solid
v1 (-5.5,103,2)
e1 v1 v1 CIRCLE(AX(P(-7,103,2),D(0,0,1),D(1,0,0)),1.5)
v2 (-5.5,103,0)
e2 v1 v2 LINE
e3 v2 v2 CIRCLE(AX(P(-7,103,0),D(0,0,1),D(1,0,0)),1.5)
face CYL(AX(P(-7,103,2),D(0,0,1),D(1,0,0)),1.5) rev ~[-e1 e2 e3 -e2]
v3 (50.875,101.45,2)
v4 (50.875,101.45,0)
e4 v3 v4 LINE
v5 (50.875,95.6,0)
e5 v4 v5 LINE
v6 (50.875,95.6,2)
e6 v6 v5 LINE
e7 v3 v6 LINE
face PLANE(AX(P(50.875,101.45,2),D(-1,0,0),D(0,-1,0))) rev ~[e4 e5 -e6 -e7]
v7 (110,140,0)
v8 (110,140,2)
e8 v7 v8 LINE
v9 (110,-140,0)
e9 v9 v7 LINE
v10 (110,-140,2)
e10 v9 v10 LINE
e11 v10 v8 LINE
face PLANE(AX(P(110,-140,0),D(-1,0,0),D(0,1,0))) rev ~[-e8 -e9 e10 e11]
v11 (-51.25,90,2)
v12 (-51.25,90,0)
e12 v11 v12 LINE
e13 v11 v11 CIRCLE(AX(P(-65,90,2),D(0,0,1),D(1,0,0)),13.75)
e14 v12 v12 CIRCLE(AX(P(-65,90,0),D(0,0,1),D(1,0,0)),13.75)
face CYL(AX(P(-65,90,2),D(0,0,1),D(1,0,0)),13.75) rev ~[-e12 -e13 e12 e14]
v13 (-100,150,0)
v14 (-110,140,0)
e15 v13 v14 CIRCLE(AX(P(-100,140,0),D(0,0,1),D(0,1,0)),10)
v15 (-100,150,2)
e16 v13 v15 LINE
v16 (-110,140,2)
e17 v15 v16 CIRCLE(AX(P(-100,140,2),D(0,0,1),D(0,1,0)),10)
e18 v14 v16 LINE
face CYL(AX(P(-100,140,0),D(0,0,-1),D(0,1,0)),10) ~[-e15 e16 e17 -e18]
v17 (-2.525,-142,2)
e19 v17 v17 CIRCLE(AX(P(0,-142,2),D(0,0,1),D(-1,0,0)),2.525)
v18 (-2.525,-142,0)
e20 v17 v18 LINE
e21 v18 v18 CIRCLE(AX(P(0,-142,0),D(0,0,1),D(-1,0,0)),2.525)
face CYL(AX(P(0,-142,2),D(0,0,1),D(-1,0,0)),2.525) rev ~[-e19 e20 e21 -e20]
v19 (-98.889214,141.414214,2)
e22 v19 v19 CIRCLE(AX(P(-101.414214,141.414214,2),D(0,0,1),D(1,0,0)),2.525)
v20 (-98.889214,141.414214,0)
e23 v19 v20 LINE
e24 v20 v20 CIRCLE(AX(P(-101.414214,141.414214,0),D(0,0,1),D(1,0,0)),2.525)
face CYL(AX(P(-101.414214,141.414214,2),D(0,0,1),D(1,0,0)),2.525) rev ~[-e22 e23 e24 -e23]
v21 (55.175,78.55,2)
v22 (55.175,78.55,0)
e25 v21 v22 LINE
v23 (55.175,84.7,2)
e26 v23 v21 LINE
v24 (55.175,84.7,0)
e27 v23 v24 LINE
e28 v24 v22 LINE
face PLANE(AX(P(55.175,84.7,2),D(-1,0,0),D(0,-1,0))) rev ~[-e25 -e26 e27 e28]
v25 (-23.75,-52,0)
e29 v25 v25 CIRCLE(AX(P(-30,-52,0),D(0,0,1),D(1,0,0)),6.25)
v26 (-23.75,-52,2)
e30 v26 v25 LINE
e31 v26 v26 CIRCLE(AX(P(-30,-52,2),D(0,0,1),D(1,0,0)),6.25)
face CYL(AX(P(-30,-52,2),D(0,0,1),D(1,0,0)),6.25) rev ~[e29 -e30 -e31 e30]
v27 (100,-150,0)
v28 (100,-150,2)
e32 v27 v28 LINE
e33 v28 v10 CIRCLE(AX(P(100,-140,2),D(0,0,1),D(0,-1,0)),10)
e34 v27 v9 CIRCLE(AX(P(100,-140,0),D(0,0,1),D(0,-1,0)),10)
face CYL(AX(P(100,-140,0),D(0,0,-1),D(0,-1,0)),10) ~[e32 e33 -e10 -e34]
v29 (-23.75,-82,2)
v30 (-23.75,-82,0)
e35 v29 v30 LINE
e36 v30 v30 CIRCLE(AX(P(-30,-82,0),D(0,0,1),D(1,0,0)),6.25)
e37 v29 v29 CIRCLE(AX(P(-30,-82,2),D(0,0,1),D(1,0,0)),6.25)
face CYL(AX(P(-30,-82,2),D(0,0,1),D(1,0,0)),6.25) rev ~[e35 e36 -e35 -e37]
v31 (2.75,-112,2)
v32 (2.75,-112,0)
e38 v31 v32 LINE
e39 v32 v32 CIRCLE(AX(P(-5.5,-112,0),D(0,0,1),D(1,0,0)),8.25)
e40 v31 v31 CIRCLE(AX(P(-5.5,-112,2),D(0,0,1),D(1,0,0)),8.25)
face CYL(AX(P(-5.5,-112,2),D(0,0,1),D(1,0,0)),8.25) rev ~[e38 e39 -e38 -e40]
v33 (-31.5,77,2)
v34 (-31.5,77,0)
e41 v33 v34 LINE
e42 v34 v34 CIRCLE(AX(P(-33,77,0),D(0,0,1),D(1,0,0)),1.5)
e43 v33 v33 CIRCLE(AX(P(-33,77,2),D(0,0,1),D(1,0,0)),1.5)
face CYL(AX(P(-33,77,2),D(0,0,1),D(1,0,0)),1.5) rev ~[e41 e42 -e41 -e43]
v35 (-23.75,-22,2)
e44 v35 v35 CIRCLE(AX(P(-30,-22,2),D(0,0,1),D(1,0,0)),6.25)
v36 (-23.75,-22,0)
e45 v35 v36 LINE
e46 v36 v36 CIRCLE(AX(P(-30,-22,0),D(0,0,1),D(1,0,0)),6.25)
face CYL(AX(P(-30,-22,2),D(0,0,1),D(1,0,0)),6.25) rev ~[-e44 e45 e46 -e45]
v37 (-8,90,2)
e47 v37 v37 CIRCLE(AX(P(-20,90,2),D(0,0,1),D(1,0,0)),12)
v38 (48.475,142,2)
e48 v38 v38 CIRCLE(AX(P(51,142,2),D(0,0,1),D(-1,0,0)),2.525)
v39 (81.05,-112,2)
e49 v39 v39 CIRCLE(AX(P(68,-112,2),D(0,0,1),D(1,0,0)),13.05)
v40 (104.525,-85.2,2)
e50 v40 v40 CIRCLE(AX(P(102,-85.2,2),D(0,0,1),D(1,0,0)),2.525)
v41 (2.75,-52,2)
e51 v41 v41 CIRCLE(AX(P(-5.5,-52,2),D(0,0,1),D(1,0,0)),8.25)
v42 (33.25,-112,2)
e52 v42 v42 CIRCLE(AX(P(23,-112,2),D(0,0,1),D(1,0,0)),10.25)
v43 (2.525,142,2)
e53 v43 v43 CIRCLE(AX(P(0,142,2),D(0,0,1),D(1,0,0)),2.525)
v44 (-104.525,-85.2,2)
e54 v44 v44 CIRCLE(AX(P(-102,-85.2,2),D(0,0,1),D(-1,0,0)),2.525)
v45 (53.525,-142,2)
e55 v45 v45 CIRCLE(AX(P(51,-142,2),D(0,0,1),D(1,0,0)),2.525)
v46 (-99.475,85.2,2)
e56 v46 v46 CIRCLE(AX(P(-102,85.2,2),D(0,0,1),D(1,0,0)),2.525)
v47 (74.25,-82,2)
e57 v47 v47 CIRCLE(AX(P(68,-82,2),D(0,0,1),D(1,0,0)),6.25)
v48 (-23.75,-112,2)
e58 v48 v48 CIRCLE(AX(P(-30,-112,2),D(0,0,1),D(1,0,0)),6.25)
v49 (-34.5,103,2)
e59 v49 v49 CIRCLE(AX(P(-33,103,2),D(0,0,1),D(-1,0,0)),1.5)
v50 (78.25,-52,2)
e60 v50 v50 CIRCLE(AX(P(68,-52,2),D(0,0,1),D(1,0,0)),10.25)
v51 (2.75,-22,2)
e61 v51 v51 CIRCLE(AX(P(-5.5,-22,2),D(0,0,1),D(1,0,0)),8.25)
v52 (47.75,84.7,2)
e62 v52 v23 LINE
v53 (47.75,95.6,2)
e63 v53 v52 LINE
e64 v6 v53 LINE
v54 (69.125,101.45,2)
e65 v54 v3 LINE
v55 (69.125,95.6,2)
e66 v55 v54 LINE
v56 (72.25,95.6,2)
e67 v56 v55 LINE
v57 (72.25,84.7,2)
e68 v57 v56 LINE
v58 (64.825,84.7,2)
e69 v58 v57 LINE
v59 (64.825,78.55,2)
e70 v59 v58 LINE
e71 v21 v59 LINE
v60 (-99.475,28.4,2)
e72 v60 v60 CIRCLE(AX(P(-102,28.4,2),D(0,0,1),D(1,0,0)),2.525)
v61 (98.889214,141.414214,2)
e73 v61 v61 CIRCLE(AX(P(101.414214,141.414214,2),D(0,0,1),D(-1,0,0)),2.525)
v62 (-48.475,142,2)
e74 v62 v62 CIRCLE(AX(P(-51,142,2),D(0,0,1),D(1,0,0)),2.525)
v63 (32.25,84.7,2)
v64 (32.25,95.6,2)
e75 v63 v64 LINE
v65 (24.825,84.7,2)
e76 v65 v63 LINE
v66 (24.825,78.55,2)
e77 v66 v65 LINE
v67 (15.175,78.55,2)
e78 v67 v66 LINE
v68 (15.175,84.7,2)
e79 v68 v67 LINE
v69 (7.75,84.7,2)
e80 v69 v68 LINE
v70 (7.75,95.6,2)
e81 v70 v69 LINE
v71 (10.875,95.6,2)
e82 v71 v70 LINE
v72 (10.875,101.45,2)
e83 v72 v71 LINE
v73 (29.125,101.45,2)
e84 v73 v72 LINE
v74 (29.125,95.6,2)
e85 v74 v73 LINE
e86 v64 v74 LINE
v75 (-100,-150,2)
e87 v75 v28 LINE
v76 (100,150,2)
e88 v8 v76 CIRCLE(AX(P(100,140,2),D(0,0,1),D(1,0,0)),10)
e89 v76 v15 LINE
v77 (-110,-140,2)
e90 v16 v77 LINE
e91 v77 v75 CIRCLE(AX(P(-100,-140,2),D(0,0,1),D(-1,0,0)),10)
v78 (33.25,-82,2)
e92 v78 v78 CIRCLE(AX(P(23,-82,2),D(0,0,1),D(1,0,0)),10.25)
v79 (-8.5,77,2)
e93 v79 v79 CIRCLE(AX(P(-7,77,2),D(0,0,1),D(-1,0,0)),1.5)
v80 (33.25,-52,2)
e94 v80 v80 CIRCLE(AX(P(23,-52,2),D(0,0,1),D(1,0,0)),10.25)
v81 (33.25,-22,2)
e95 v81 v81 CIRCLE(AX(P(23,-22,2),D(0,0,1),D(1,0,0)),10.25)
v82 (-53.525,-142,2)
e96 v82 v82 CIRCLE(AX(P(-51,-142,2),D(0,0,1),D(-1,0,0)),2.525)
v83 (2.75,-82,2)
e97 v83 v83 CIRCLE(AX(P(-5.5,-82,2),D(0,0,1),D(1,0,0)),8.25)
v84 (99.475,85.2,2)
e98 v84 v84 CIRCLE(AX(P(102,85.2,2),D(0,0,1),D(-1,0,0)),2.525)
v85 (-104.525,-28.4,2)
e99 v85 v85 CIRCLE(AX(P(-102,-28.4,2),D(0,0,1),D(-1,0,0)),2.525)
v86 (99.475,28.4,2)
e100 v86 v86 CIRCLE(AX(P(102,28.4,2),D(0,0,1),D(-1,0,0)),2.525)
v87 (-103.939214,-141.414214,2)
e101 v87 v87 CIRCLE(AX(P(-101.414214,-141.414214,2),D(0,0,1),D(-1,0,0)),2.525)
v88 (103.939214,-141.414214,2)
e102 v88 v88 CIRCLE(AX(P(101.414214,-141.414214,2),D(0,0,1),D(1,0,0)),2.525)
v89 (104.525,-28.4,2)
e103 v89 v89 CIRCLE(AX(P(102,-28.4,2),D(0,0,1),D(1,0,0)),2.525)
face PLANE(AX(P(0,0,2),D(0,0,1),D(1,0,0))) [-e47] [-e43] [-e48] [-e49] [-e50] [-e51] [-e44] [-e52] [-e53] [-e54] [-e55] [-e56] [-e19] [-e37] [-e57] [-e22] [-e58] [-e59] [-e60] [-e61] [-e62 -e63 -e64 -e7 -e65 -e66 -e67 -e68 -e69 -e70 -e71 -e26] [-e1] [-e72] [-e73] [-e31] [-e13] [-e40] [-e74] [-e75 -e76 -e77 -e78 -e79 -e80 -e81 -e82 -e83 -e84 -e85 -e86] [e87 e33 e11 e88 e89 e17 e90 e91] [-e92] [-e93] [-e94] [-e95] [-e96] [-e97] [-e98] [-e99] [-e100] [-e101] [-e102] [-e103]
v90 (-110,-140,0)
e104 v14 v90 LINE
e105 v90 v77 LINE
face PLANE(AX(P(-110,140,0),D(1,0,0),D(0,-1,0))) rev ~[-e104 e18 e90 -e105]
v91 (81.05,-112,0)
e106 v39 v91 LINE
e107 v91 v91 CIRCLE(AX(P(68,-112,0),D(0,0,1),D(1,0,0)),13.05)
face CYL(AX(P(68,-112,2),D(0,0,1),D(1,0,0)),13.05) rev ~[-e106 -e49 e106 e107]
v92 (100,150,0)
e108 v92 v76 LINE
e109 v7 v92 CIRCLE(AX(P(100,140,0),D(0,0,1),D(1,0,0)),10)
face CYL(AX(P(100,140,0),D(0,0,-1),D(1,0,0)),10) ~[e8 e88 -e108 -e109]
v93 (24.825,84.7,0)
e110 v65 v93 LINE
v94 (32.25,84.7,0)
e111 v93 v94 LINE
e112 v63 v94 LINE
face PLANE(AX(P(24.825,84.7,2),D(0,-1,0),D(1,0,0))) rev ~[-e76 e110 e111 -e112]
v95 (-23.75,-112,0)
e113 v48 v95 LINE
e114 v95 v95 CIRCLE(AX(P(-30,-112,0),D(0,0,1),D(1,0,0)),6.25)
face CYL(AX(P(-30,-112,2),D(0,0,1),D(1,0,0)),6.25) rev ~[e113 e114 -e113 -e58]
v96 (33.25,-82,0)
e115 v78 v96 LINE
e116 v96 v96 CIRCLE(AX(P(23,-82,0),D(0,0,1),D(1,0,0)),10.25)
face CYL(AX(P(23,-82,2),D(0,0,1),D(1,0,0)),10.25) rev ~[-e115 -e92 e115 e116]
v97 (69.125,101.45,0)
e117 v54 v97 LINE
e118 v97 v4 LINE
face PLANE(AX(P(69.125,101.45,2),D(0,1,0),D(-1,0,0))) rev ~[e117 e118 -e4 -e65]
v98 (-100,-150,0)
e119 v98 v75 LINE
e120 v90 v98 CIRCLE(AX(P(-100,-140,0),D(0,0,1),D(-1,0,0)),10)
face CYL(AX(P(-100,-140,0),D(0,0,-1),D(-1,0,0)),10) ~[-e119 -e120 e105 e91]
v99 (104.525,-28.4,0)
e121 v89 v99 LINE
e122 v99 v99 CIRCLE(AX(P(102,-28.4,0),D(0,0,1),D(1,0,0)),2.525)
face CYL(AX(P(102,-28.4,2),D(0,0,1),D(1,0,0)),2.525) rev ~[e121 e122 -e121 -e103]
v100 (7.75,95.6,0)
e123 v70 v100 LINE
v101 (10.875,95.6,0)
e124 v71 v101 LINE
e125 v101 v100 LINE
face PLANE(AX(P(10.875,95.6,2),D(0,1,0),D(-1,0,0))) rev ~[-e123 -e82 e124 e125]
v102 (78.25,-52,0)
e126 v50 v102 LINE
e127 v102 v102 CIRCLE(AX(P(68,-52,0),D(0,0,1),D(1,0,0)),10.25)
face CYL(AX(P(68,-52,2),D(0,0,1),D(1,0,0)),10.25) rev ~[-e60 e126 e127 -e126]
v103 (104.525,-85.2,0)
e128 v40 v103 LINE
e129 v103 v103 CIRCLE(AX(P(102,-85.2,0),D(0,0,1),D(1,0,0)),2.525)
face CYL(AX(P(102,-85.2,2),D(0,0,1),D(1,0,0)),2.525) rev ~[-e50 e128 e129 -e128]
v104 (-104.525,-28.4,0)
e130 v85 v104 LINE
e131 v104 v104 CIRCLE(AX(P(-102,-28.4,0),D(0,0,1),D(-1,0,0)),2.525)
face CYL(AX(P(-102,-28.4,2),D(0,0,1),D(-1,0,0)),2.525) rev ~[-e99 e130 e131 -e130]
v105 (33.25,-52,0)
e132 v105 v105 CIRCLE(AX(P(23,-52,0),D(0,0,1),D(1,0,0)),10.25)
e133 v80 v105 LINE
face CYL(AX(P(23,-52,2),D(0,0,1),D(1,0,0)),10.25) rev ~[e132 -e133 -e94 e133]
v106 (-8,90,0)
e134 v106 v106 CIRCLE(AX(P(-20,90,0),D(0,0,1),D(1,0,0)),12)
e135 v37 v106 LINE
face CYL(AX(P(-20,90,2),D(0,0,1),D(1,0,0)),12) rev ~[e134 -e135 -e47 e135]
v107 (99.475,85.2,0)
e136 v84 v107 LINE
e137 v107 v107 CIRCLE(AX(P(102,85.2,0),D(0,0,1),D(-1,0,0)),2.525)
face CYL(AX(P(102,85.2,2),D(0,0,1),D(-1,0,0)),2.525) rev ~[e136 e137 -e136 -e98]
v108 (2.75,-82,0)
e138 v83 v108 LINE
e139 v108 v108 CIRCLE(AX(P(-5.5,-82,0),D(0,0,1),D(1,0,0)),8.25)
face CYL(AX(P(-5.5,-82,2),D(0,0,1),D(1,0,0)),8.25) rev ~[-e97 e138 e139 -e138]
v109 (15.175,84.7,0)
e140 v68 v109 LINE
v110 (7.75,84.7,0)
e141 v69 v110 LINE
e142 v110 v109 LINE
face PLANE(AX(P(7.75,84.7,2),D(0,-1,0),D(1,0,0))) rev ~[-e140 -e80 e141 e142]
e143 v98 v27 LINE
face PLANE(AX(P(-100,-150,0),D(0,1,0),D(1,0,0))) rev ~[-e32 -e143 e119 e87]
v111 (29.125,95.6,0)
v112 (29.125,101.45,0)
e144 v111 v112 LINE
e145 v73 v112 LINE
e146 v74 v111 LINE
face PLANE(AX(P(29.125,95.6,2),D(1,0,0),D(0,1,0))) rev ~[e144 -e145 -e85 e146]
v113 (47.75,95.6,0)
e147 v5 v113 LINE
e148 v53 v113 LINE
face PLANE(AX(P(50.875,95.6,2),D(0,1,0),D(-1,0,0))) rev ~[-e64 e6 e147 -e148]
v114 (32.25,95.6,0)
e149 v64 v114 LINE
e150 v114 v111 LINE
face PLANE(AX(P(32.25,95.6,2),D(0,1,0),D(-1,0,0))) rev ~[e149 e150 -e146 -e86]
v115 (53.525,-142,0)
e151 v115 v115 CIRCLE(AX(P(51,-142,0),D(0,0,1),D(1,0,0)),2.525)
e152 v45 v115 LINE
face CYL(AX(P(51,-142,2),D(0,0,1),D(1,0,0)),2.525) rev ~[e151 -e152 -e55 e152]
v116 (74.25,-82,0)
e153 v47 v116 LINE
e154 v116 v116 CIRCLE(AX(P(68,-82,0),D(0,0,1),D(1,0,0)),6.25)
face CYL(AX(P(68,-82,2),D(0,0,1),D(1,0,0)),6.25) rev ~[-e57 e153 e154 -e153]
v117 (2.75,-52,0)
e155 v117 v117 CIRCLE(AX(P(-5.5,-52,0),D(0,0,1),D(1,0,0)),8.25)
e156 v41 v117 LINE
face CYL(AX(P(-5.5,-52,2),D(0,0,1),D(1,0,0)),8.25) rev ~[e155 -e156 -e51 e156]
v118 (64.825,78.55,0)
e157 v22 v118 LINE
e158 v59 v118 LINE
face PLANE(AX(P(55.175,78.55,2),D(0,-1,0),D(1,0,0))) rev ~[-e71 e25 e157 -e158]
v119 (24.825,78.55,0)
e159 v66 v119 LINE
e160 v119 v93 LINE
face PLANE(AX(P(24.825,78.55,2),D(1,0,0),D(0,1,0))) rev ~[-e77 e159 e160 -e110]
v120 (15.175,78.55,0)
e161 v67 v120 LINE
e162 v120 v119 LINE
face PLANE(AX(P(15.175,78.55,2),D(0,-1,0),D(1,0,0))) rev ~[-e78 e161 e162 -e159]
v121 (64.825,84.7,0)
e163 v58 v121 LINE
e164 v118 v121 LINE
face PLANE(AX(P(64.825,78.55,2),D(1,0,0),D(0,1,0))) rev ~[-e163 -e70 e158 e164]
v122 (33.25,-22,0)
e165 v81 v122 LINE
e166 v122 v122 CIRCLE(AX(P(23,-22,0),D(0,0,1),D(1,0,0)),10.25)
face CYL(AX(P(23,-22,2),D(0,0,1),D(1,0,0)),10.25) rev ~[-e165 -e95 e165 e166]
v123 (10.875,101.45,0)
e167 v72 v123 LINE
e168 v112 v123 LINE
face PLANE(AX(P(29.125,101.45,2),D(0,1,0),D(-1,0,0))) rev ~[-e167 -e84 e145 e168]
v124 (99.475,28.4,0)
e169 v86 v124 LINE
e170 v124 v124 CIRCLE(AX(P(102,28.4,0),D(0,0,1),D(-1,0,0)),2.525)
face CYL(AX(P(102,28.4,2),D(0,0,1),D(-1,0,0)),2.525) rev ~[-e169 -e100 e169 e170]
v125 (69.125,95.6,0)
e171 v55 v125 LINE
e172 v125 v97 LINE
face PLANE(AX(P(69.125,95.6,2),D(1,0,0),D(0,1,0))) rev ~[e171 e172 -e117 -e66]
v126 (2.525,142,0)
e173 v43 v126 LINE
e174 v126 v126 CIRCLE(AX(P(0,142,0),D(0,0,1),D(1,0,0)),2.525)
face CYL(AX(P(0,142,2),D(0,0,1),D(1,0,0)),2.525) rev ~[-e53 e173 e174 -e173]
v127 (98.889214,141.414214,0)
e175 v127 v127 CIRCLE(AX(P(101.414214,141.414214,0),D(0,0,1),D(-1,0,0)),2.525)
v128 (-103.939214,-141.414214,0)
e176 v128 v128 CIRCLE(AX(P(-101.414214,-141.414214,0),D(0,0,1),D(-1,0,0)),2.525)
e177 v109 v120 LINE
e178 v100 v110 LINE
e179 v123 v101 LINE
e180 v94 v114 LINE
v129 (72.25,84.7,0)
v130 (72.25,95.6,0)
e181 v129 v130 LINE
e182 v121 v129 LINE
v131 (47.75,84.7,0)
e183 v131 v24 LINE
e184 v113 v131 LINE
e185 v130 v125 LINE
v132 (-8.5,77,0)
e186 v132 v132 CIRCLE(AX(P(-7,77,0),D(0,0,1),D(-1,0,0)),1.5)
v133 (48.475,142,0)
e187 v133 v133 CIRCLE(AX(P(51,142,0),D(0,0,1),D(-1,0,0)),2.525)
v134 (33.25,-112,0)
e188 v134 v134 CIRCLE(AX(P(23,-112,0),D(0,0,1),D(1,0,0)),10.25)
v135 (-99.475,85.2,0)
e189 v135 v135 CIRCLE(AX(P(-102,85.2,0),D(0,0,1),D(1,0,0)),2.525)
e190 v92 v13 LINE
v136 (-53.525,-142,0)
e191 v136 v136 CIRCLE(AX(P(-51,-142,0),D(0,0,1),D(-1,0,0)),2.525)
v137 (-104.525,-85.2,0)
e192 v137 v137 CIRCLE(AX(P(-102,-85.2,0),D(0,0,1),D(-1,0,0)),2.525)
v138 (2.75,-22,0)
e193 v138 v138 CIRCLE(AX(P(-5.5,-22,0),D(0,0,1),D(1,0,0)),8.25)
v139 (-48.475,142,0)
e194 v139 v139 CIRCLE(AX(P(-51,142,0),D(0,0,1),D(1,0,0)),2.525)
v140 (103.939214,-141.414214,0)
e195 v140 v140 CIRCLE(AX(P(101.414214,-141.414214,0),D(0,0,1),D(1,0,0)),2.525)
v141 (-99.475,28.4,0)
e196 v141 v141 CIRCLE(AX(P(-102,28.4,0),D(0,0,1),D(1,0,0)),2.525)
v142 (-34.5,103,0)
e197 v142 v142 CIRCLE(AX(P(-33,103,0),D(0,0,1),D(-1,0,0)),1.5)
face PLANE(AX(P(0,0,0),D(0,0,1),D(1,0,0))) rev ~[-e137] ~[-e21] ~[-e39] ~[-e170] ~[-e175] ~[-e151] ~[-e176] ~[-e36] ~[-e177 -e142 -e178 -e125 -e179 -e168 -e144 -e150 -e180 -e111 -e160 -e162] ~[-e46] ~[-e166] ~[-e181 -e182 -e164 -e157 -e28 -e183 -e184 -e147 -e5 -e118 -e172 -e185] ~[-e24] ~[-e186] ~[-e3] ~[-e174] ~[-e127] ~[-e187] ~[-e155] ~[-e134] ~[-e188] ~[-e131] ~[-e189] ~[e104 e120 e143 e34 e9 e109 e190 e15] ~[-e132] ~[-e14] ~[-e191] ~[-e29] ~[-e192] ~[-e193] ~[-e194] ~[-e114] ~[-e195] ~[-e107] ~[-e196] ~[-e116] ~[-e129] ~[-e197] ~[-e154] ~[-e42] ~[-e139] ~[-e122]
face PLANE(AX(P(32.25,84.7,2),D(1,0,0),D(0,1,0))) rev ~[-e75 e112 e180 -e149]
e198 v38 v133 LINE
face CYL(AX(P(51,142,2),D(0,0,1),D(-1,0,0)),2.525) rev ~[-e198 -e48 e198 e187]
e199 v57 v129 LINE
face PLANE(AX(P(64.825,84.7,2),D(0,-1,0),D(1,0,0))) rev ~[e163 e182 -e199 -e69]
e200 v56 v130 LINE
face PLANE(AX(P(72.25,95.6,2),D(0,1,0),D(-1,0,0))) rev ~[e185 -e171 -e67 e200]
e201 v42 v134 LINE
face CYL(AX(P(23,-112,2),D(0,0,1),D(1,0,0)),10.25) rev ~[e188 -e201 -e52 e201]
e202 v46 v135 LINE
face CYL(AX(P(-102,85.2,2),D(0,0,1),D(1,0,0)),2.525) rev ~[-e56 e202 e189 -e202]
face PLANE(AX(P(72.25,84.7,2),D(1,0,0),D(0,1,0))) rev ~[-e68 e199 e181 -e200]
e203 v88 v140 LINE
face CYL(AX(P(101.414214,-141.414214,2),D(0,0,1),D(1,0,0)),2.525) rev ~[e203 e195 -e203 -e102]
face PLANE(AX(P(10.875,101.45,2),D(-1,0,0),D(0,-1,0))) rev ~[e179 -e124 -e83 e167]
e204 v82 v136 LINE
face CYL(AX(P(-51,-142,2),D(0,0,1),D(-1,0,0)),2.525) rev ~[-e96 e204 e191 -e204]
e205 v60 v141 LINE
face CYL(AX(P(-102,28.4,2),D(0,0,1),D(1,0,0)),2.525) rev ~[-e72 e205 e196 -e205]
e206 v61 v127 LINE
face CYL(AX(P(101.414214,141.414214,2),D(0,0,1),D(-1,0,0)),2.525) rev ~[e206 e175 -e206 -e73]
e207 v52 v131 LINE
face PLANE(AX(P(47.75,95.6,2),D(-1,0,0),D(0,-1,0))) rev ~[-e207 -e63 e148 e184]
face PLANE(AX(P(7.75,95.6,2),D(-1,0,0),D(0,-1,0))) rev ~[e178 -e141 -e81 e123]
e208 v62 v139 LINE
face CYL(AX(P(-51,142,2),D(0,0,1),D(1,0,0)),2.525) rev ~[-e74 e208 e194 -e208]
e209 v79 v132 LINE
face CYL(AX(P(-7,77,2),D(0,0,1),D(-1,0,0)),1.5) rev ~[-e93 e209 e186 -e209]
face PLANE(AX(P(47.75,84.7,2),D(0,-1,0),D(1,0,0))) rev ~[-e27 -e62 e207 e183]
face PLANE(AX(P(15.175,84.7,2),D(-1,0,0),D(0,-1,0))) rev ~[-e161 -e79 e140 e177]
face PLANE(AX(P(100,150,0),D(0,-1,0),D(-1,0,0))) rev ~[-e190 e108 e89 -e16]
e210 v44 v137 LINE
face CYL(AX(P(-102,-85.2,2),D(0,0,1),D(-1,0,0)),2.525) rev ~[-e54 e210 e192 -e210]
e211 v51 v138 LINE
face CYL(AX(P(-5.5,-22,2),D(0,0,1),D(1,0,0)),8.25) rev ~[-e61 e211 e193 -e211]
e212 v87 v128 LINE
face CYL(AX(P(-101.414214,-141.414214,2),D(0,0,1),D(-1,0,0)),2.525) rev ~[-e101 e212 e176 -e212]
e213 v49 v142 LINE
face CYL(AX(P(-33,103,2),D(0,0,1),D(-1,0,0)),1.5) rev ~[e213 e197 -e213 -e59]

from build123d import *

# Parameters (mm, degrees)
BOSS_EXTRUDE1_DEPTH = 2
SKETCH2_R           = 2.525
CUT_EXTRUDE1_DEPTH  = 187.021504133
SKETCH3_R           = 10.25
SKETCH3_R_2         = 8.25
SKETCH3_R_3         = 6.25
CUT_EXTRUDE2_DEPTH  = 187.021504133
CUT_EXTRUDE3_DEPTH  = 187.021504133
SKETCH6_R           = 12
SKETCH6_R_2         = 1.5
CUT_EXTRUDE4_DEPTH  = 187.021504133
CUT_EXTRUDE5_REACH  = 188.022
SKETCH7_R           = 13.75
CUT_EXTRUDE6_REACH  = 188.022
SKETCH8_R           = 13.05
SKETCH9_R           = 10.25
SKETCH9_R_2         = 6.25
CUT_EXTRUDE7_DEPTH  = 2


with BuildPart() as part:
    # Sketch1 → Boss-Extrude1 (new body)
    with BuildSketch(Plane.XY):
        with BuildLine():
            Line((-100, -150), (100, -150))
            ThreePointArc((100, -150), (107.071067812, -147.071067812), (110, -140))
            Line((110, -140), (110, 140))
            ThreePointArc((110, 140), (107.071067812, 147.071067812), (100, 150))
            Line((100, 150), (-100, 150))
            ThreePointArc((-100, 150), (-107.071067812, 147.071067812), (-110, 140))
            Line((-110, 140), (-110, -140))
            ThreePointArc((-110, -140), (-107.071067812, -147.071067812), (-100, -150))
        make_face()
    extrude(amount=BOSS_EXTRUDE1_DEPTH)

    # Sketch2 → Cut-Extrude1 (cut, through all)
    with BuildSketch(Plane.XY.offset(2)):
        with Locations((-101.414213562, 141.414213562)):
            Circle(SKETCH2_R)
        with Locations(Location((101.414213562, 141.414213562, 0), (0, 0, 180))):
            Circle(SKETCH2_R)
        with Locations((-51, 142)):
            Circle(SKETCH2_R)
        with Locations(Location((51, 142, 0), (0, 0, 180))):
            Circle(SKETCH2_R)
        with Locations((-102, 85.2)):
            Circle(SKETCH2_R)
        with Locations((-102, 28.4)):
            Circle(SKETCH2_R)
        with Locations(Location((102, 28.4, 0), (0, 0, 180))):
            Circle(SKETCH2_R)
        with Locations(Location((102, 85.2, 0), (0, 0, 180))):
            Circle(SKETCH2_R)
        with Locations((102, -28.4)):
            Circle(SKETCH2_R)
        with Locations((102, -85.2)):
            Circle(SKETCH2_R)
        with Locations((101.414213562, -141.414213562)):
            Circle(SKETCH2_R)
        with Locations((51, -142)):
            Circle(SKETCH2_R)
        with Locations(Location((-51, -142, 0), (0, 0, 180))):
            Circle(SKETCH2_R)
        with Locations(Location((-101.414213562, -141.414213562, 0), (0, 0, 180))):
            Circle(SKETCH2_R)
        with Locations(Location((-102, -85.2, 0), (0, 0, 180))):
            Circle(SKETCH2_R)
        with Locations(Location((-102, -28.4, 0), (0, 0, 180))):
            Circle(SKETCH2_R)
        with Locations((0, 142)):
            Circle(SKETCH2_R)
        with Locations(Location((0, -142, 0), (0, 0, 180))):
            Circle(SKETCH2_R)
    extrude(amount=-CUT_EXTRUDE1_DEPTH, mode=Mode.SUBTRACT)

    # Sketch3 → Cut-Extrude2 (cut, through all)
    with BuildSketch(Plane.XY.offset(2)):
        with Locations((23, -112)):
            Circle(SKETCH3_R)
        with Locations((-5.5, -112)):
            Circle(SKETCH3_R_2)
        with Locations((23, -82)):
            Circle(SKETCH3_R)
        with Locations((-5.5, -82)):
            Circle(SKETCH3_R_2)
        with Locations((23, -52)):
            Circle(SKETCH3_R)
        with Locations((-5.5, -52)):
            Circle(SKETCH3_R_2)
        with Locations((23, -22)):
            Circle(SKETCH3_R)
        with Locations((-5.5, -22)):
            Circle(SKETCH3_R_2)
        with Locations((-30, -112)):
            Circle(SKETCH3_R_3)
        with Locations((-30, -82)):
            Circle(SKETCH3_R_3)
        with Locations((-30, -52)):
            Circle(SKETCH3_R_3)
        with Locations((-30, -22)):
            Circle(SKETCH3_R_3)
    extrude(amount=-CUT_EXTRUDE2_DEPTH, mode=Mode.SUBTRACT)

    # Sketch5 → Cut-Extrude3 (cut, through all)
    with BuildSketch(Plane.XY.offset(2)):
        Polygon((10.875, 101.45), (10.875, 95.6), (7.75, 95.6), (7.75, 84.7), (15.175, 84.7), (15.175, 78.55), (24.825, 78.55), (24.825, 84.7), (32.25, 84.7), (32.25, 95.6), (29.125, 95.6), (29.125, 101.45), align=None)
        Polygon((50.875, 101.45), (50.875, 95.6), (47.75, 95.6), (47.75, 84.7), (55.175, 84.7), (55.175, 78.55), (64.825, 78.55), (64.825, 84.7), (72.25, 84.7), (72.25, 95.6), (69.125, 95.6), (69.125, 101.45), align=None)
    extrude(amount=-CUT_EXTRUDE3_DEPTH, mode=Mode.SUBTRACT)

    # Sketch6 → Cut-Extrude4 (cut, through all)
    with BuildSketch(Plane.XY.offset(2)):
        with Locations((-20, 90)):
            Circle(SKETCH6_R)
        with Locations((-7, 103)):
            Circle(SKETCH6_R_2)
        with Locations(Location((-33, 103, 0), (0, 0, 180))):
            Circle(SKETCH6_R_2)
        with Locations(Location((-7, 77, 0), (0, 0, 180))):
            Circle(SKETCH6_R_2)
        with Locations((-33, 77)):
            Circle(SKETCH6_R_2)
    extrude(amount=-CUT_EXTRUDE4_DEPTH, mode=Mode.SUBTRACT)

    # Sketch7 → Cut-Extrude5 (cut, up to next)
    with BuildSketch(Plane.XY.offset(2), mode=Mode.PRIVATE) as cut_extrude5_sk1:
        with Locations((-65, 90)):
            Circle(SKETCH7_R)
    cut_extrude5_tool1 = extrude(cut_extrude5_sk1.sketch, amount=-CUT_EXTRUDE5_REACH, mode=Mode.PRIVATE) & part.part
    add(cut_extrude5_tool1.solids().sort_by_distance((-65, 90, 2))[0], mode=Mode.SUBTRACT)

    # Sketch8 → Cut-Extrude6 (cut, up to next)
    with BuildSketch(Plane.XY.offset(2), mode=Mode.PRIVATE) as cut_extrude6_sk1:
        with Locations((68, -112)):
            Circle(SKETCH8_R)
    cut_extrude6_tool1 = extrude(cut_extrude6_sk1.sketch, amount=-CUT_EXTRUDE6_REACH, mode=Mode.PRIVATE) & part.part
    add(cut_extrude6_tool1.solids().sort_by_distance((68, -112, 2))[0], mode=Mode.SUBTRACT)

    # Sketch9 → Cut-Extrude7 (cut)
    with BuildSketch(Plane.XY.offset(2)):
        with Locations((68, -52)):
            Circle(SKETCH9_R)
        with Locations((68, -82)):
            Circle(SKETCH9_R_2)
    extrude(amount=-CUT_EXTRUDE7_DEPTH, mode=Mode.SUBTRACT)


solid = part.part
